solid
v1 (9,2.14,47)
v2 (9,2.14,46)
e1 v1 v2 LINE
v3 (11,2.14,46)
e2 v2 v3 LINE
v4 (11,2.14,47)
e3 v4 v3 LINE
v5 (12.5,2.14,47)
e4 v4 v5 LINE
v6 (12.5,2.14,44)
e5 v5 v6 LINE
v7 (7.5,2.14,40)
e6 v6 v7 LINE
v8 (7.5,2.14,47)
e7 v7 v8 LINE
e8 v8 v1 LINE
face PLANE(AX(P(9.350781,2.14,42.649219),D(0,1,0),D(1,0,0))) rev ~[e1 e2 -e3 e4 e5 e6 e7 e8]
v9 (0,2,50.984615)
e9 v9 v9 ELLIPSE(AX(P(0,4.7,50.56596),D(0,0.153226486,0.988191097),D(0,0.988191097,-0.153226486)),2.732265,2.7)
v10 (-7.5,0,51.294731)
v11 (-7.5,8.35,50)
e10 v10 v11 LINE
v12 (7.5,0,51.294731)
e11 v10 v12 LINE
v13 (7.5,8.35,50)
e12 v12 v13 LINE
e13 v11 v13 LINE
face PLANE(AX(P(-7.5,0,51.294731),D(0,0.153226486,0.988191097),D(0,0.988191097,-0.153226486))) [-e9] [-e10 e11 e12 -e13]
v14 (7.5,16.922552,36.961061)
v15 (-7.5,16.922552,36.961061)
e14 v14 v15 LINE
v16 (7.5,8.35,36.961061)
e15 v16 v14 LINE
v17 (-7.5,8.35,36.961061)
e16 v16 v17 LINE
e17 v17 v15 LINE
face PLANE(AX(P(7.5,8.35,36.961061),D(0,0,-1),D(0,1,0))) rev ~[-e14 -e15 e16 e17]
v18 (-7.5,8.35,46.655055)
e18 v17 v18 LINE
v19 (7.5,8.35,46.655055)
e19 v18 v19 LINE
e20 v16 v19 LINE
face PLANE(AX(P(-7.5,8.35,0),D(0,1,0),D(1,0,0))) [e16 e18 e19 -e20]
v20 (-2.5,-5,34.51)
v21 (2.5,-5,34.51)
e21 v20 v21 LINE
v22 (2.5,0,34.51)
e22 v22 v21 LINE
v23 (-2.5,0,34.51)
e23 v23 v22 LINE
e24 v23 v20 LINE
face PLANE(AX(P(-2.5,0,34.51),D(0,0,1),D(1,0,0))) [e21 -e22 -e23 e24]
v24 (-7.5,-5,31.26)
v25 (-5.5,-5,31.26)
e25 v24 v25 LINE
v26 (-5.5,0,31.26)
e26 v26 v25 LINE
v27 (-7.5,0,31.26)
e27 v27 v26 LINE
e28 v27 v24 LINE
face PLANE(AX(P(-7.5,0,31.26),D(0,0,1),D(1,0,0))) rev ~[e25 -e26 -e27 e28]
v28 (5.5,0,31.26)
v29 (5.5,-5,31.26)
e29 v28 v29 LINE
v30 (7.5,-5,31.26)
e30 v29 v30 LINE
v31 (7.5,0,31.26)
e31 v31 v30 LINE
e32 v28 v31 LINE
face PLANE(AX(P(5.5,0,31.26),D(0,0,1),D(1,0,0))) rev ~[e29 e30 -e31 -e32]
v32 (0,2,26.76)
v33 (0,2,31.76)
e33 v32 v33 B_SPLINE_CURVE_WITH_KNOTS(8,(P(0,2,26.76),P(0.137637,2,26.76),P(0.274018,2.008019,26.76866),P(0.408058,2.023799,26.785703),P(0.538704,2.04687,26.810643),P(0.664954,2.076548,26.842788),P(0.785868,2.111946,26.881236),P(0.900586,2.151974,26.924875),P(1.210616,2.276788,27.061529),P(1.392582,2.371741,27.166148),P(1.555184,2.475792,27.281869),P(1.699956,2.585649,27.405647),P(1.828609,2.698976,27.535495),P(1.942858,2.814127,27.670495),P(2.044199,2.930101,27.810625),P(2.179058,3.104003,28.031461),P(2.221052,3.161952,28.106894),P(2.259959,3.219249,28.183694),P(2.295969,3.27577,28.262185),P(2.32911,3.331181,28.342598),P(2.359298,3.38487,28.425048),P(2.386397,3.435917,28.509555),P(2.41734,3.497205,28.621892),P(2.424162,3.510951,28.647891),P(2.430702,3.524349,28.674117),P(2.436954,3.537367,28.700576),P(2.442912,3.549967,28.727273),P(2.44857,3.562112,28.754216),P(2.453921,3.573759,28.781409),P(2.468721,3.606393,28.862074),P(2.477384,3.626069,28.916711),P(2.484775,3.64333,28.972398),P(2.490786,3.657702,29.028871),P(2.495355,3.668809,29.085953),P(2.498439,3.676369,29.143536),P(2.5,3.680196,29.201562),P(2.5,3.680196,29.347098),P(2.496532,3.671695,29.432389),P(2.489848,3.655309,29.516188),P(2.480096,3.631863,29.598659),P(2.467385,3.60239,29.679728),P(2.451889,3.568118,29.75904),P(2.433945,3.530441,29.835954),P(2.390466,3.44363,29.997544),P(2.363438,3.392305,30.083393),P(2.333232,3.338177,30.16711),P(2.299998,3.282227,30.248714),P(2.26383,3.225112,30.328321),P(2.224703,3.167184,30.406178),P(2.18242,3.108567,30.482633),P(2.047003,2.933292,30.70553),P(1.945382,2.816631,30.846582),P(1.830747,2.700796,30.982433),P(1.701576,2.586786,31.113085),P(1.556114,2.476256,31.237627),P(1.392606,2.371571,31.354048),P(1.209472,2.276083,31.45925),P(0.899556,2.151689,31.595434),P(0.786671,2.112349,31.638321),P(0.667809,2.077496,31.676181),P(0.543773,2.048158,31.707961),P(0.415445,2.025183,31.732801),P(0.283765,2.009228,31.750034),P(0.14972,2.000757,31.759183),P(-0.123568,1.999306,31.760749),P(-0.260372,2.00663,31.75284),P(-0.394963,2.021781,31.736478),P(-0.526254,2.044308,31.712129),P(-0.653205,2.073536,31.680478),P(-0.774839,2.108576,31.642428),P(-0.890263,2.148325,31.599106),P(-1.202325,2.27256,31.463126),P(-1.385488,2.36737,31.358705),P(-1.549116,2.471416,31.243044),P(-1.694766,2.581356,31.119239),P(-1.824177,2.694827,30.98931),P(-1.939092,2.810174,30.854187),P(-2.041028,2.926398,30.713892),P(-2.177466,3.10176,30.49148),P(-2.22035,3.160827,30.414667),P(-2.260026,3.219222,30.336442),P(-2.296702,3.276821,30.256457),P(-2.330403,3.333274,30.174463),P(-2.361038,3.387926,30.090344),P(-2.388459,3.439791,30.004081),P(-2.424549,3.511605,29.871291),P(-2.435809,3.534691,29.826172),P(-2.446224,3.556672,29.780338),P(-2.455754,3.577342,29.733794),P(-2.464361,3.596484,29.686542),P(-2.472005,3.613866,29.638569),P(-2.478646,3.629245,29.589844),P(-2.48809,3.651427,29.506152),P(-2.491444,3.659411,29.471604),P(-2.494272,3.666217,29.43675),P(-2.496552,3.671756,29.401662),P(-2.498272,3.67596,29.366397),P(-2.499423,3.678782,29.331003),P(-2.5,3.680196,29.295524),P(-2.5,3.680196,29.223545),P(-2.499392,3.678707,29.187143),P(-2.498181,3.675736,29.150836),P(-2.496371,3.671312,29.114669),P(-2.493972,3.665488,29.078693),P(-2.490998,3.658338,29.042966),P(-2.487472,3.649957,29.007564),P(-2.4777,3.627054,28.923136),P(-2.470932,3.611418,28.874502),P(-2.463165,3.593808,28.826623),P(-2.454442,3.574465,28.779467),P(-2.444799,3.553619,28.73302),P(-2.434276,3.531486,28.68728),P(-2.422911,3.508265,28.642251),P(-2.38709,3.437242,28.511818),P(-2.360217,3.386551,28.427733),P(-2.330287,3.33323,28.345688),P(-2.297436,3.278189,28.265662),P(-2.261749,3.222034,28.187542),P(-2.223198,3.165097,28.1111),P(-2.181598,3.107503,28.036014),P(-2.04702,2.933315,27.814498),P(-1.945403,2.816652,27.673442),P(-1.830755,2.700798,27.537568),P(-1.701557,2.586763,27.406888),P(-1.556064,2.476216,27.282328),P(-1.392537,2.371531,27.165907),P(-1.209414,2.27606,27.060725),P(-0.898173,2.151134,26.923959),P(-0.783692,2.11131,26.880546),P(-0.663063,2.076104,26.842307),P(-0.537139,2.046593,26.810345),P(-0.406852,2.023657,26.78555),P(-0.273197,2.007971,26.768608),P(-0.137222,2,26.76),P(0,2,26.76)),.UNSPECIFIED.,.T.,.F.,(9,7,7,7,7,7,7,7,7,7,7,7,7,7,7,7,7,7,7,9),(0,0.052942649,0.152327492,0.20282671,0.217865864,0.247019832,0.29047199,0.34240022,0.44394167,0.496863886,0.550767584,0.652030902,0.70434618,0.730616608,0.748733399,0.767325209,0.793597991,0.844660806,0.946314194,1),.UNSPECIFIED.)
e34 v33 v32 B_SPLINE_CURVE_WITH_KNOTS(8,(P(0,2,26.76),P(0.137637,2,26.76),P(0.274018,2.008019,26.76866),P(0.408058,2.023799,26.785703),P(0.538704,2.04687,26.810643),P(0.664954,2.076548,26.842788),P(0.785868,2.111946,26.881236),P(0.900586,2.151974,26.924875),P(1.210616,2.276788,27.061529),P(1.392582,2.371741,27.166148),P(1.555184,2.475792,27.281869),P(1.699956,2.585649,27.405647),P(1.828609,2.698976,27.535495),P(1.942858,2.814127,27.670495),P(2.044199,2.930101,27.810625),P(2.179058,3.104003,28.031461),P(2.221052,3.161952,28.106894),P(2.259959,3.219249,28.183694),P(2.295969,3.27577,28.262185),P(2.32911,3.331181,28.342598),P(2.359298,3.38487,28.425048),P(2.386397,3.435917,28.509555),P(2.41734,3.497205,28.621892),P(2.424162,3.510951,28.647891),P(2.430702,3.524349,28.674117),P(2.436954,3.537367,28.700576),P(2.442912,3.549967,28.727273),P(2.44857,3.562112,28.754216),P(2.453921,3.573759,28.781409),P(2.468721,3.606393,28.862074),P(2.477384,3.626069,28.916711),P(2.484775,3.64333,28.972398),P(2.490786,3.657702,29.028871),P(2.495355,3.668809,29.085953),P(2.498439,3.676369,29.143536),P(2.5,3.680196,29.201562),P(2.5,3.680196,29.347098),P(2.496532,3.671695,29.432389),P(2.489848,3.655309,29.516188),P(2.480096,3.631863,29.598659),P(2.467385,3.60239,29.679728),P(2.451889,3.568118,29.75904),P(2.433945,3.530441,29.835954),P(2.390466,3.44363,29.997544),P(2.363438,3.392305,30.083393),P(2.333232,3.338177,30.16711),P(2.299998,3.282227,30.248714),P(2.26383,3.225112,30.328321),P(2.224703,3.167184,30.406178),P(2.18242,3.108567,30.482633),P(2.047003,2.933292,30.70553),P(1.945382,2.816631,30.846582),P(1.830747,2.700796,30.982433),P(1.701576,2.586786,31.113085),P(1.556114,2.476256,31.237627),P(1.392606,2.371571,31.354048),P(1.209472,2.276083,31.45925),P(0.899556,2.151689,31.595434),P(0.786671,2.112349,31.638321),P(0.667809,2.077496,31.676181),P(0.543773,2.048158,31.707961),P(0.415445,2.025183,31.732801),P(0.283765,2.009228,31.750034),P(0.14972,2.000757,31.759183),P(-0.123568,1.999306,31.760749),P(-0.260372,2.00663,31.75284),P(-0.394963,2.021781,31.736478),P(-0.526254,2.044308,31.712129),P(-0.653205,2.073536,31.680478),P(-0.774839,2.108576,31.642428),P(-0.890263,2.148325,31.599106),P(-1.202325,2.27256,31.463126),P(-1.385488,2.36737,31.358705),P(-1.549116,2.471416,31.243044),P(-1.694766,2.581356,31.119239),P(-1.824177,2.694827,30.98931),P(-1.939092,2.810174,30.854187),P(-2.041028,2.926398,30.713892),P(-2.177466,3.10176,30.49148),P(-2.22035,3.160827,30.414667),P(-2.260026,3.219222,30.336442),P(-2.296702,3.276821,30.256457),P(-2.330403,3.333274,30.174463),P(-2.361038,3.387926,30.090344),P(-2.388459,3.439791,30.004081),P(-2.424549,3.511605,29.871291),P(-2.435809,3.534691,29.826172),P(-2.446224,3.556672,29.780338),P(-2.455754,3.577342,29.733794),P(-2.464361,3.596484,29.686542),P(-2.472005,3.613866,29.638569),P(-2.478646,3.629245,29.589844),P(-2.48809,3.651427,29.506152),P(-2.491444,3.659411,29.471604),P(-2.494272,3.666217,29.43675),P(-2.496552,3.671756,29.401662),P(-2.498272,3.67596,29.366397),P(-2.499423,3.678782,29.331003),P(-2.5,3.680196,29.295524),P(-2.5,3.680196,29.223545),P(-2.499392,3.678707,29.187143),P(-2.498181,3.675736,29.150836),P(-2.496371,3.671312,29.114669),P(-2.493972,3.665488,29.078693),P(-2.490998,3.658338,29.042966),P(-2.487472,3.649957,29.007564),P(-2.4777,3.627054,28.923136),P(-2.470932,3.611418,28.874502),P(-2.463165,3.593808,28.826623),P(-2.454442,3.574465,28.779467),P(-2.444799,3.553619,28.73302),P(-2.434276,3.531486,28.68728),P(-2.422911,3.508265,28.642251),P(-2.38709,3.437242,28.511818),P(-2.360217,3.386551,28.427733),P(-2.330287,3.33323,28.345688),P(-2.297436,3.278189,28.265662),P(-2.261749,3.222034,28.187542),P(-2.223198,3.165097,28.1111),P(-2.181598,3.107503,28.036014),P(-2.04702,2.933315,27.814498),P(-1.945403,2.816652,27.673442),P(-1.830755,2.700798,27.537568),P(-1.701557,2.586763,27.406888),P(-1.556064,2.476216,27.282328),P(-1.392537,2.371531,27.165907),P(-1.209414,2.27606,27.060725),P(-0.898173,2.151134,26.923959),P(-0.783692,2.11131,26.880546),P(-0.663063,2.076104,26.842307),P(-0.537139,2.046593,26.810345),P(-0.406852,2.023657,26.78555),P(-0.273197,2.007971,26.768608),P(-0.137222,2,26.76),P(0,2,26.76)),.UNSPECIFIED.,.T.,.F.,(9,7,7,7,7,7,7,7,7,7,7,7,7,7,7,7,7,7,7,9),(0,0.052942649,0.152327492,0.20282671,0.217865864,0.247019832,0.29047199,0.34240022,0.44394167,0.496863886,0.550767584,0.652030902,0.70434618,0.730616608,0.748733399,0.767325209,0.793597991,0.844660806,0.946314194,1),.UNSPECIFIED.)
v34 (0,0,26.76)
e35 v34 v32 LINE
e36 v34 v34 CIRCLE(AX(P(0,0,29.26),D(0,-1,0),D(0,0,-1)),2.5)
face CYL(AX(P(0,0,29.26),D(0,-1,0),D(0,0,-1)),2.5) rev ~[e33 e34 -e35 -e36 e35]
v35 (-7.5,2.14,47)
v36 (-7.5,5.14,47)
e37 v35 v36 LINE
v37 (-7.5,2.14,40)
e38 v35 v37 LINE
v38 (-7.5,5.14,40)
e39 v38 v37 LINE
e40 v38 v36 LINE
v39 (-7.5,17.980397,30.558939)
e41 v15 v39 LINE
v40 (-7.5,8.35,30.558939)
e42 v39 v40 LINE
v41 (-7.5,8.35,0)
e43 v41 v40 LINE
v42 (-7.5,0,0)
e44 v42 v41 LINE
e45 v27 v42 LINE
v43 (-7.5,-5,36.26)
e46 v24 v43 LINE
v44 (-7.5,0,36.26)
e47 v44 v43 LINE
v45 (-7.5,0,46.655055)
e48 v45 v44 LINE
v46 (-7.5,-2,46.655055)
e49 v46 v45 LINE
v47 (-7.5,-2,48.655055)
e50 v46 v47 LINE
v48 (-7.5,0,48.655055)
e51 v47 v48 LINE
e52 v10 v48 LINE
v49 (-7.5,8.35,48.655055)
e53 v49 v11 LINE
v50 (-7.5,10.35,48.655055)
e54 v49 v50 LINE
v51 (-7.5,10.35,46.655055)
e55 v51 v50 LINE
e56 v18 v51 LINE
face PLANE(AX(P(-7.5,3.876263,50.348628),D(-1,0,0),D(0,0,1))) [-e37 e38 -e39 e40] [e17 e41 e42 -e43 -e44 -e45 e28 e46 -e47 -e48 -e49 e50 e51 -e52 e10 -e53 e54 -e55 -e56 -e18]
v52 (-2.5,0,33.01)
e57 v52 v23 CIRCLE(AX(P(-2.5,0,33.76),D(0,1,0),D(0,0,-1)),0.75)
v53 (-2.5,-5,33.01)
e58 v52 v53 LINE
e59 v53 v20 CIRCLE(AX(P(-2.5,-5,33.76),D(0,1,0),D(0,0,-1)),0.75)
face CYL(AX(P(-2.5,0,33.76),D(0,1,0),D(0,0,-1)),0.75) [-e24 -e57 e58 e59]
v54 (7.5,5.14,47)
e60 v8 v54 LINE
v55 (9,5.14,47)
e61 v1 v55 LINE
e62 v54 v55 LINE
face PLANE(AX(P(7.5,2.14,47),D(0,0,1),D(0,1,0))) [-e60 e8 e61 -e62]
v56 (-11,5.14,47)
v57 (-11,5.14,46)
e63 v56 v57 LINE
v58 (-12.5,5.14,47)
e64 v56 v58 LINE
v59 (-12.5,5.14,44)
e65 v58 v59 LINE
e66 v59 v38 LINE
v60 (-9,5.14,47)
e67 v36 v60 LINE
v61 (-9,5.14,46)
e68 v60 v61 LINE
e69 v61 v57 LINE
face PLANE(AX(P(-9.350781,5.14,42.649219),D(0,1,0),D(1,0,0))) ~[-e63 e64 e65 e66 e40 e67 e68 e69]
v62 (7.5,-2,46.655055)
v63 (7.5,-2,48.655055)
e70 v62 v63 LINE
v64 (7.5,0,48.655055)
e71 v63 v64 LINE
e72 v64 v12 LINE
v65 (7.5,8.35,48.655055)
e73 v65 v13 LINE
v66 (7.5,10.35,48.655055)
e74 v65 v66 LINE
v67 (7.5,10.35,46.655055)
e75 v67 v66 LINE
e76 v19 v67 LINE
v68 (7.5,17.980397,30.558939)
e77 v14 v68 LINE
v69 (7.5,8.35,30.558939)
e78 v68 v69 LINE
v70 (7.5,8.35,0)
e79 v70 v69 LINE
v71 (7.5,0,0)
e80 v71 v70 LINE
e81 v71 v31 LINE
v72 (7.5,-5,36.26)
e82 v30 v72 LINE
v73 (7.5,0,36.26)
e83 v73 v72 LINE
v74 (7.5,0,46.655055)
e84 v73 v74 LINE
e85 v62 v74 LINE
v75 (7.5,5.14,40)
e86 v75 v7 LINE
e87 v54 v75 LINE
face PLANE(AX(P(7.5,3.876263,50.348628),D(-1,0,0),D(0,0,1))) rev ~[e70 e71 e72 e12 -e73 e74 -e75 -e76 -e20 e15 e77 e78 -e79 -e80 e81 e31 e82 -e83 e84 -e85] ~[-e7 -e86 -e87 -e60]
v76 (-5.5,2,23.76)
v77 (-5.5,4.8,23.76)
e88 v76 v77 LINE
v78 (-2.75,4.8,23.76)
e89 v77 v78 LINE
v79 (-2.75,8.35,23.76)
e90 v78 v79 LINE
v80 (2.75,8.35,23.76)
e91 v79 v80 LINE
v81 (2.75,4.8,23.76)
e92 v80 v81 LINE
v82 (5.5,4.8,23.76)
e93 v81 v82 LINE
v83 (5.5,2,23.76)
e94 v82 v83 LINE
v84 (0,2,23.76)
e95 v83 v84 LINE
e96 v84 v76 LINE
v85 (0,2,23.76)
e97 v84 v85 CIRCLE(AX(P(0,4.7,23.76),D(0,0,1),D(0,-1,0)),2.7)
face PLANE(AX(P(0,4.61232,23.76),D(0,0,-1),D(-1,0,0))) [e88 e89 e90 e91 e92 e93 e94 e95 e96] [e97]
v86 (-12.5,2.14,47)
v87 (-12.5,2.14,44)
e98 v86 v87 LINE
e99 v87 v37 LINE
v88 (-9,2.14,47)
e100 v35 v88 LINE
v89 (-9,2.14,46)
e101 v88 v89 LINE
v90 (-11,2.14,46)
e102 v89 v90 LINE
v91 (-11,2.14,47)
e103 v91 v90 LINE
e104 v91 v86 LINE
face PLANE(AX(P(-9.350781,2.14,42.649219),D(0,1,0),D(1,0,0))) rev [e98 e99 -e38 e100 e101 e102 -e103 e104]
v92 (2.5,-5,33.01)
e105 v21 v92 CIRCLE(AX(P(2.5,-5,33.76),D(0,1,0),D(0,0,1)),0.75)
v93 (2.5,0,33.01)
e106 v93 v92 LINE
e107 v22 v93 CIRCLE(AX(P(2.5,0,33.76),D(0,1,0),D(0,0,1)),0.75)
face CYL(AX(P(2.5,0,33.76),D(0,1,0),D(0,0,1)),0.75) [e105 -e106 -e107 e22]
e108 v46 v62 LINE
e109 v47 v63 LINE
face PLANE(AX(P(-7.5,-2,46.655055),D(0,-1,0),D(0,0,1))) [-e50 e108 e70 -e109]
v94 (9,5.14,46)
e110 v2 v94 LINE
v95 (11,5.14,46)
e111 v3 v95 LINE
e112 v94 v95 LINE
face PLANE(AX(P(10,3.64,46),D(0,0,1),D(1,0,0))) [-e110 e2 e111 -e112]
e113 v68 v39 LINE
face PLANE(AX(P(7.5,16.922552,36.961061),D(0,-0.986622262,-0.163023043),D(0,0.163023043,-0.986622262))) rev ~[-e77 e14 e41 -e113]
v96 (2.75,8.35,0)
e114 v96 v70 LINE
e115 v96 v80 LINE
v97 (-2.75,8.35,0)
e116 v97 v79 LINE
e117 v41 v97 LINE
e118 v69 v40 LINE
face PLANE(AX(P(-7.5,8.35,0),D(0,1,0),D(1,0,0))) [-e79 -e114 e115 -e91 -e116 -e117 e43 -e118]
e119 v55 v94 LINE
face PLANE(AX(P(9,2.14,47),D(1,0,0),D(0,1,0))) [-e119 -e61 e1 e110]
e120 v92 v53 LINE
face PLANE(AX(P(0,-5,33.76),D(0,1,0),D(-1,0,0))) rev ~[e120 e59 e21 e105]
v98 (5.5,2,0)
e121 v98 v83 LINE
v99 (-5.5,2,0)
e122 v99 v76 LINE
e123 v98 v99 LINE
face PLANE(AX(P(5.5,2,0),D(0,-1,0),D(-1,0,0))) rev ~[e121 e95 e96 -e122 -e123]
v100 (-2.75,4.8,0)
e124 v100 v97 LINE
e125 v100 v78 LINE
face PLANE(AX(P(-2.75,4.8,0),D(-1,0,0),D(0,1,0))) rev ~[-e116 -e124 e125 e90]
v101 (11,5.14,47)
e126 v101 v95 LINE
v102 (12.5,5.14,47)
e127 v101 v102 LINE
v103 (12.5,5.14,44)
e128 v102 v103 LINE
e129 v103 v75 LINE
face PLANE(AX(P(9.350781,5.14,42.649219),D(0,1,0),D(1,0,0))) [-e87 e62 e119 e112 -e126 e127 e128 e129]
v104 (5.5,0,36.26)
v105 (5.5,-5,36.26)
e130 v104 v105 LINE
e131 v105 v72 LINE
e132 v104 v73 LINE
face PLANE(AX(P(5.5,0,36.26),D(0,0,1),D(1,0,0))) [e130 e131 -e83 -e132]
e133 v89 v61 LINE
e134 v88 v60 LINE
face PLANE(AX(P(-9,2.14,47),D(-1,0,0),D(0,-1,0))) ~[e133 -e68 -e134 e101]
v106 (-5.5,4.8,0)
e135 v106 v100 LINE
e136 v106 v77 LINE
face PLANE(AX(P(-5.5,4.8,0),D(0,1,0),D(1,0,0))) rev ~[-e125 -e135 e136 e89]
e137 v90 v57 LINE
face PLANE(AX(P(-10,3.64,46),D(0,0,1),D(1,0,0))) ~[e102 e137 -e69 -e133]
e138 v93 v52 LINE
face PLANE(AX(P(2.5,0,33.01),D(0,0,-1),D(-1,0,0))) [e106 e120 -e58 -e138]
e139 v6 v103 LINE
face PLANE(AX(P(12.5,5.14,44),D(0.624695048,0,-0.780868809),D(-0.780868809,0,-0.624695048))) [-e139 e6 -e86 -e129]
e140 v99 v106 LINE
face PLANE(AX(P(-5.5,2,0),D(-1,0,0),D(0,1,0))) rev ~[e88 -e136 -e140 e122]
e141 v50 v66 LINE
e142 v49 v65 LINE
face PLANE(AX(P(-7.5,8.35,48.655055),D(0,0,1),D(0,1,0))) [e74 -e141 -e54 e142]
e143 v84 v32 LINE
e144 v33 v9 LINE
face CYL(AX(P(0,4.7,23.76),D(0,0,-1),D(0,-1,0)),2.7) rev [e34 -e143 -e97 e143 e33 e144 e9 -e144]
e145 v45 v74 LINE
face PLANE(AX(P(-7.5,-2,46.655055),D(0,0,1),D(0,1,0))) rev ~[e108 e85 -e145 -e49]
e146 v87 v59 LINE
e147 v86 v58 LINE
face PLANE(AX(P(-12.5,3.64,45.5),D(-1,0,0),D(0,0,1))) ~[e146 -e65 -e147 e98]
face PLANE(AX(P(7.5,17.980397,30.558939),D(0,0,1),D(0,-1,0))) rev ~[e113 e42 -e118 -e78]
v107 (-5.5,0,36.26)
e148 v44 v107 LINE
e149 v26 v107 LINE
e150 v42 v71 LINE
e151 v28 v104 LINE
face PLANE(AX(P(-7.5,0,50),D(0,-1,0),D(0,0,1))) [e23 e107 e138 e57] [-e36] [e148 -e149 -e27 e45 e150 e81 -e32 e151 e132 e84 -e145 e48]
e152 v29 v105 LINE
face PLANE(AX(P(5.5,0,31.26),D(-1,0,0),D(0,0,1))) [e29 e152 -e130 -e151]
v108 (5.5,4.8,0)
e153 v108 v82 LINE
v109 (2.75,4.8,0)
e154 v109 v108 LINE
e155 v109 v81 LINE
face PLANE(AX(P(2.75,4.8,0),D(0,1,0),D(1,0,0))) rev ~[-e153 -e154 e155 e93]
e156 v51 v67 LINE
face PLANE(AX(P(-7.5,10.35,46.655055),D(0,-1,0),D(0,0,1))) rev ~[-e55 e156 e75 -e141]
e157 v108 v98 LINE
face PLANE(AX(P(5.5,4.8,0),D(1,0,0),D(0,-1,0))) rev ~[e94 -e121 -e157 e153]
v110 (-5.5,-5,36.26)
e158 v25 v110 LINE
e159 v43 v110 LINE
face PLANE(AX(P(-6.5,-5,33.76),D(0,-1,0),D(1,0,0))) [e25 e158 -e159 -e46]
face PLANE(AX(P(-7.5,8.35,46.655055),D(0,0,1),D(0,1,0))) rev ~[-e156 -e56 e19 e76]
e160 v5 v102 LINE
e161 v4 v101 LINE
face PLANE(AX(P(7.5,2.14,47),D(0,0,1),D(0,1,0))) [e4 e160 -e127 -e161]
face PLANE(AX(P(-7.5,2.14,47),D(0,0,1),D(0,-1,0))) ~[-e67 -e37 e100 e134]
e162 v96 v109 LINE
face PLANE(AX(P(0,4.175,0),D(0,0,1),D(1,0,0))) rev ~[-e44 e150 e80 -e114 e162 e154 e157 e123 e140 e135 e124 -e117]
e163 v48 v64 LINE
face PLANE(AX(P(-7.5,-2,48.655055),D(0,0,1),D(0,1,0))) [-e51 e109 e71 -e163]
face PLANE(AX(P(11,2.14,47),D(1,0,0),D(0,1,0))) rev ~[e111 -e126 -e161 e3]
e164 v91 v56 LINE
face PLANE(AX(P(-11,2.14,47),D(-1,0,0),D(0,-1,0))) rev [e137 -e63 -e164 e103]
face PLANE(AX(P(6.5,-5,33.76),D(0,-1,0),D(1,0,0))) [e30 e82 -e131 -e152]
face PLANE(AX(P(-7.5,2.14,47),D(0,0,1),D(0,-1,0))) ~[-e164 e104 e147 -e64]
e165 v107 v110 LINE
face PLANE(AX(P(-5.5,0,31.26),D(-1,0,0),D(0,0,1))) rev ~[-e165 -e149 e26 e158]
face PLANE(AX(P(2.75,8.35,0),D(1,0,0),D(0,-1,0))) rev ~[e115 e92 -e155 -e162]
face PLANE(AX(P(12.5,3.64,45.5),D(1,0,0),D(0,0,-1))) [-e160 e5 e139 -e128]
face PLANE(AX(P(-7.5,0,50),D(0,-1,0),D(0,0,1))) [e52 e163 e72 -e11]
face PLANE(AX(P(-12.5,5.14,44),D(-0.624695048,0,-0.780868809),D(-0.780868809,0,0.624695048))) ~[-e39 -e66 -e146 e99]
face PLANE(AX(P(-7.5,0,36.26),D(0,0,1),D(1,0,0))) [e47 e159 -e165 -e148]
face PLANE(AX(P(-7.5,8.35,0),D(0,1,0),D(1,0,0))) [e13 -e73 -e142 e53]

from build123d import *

# Parameters (mm, degrees)
SKETCH9_W               = 15
SKETCH9_H               = 8.35
BOSS_EXTRUDE4_DEPTH     = 50
CUT_EXTRUDE4_DEPTH      = 23.76
BOSS_EXTRUDE9_DEPTH     = 15
CUT_EXTRUDE5_REACH      = 31.734
SKETCH10_R              = 2.7
SKETCH12_W              = 3
SKETCH12_H              = 3
BOSS_EXTRUDE5_DEPTH     = 5
SKETCH13_W              = 2
SKETCH13_H              = 3
CUT_EXTRUDE6_DEPTH      = 1
BOSS_EXTRUDE6_DEPTH     = 3
SKETCH22_W              = 2
SKETCH22_H              = 2
BOSS_EXTRUDE10_DEPTH    = 15
CUT_EXTRUDE7_REACH      = 55.801
CUT_EXTRUDE7_END_RADIUS = 2.7
SKETCH23_R              = 2.5
SKETCH24_W              = 2
SKETCH24_H              = 5
BOSS_EXTRUDE11_DEPTH    = 5
BOSS_EXTRUDE12_DEPTH    = 15


with BuildPart() as part:
    # Sketch9 → Boss-Extrude4 (new body)
    with BuildSketch(Plane.XY):
        with Locations((0, 4.175)):
            Rectangle(SKETCH9_W, SKETCH9_H)
    extrude(amount=BOSS_EXTRUDE4_DEPTH)

    # Sketch7 → Cut-Extrude4 (cut)
    with BuildSketch(Plane.XY):
        Polygon((-5.5, 2), (-5.5, 4.8), (-2.75, 4.8), (-2.75, 8.35), (2.75, 8.35), (2.75, 4.8), (5.5, 4.8), (5.5, 2), align=None)
    extrude(amount=CUT_EXTRUDE4_DEPTH, mode=Mode.SUBTRACT)

    # Sketch21 → Boss-Extrude9 (add)
    with BuildSketch(Plane.ZY.offset(7.5)):
        Polygon((50, 0), (51.294730508, 0), (50, 8.35), align=None)
    extrude(amount=-BOSS_EXTRUDE9_DEPTH)

    # Cut-Extrude5: up to this plane
    cut_extrude5_end = Plane(origin=(15.949782665, 0, 51.294730508), z_dir=(0, 0.15322648630316937, 0.9881910968507989))
    # Sketch10 → Cut-Extrude5 (cut, up to the surface)
    with BuildSketch(Plane.XY.offset(23.76), mode=Mode.PRIVATE) as cut_extrude5_sk1:
        with Locations(Location((0, 4.7, 0), (0, 0, 270))):
            Circle(SKETCH10_R)
    cut_extrude5_tool1 = split(extrude(cut_extrude5_sk1.sketch, amount=CUT_EXTRUDE5_REACH, mode=Mode.PRIVATE), bisect_by=cut_extrude5_end, keep=Keep.BOTH, mode=Mode.PRIVATE)
    add(cut_extrude5_tool1.solids().sort_by_distance((0, 4.7, 23.76))[0], mode=Mode.SUBTRACT)

    # Sketch12 → Boss-Extrude5 (add)
    with BuildSketch(Plane(origin=(7.5, 0, 0), x_dir=(0, 0, -1), z_dir=(1, 0, 0))):
        with Locations((-45.5, 3.64)):
            Rectangle(SKETCH12_W, SKETCH12_H)
    boss_extrude5 = extrude(amount=BOSS_EXTRUDE5_DEPTH)

    # Sketch13 → Cut-Extrude6 (cut)
    with BuildSketch(Plane.XY.offset(47)):
        with Locations((10, 3.64)):
            Rectangle(SKETCH13_W, SKETCH13_H)
    cut_extrude6 = extrude(amount=-CUT_EXTRUDE6_DEPTH, mode=Mode.SUBTRACT)

    # Mirror2: Boss-Extrude5 across plane
    add(boss_extrude5.mirror(Plane(origin=(0, 0, 0), x_dir=(0, 0, 1), z_dir=(1, 0, 0))))

    # Mirror4: Cut-Extrude6 across plane
    add(cut_extrude6.mirror(Plane(origin=(0, 0, 0), x_dir=(0, 0, 1), z_dir=(1, 0, 0))), mode=Mode.SUBTRACT)

    # Sketch14 → Boss-Extrude6 (add)
    with BuildSketch(Plane(origin=(0, 5.14, 0), x_dir=(1, 0, 0), z_dir=(0, 1, 0))):
        Polygon((12.5, -44), (7.5, -40), (7.5, -44), align=None)
    boss_extrude6 = extrude(amount=-BOSS_EXTRUDE6_DEPTH)

    # Mirror5: Boss-Extrude6 across plane
    add(boss_extrude6.mirror(Plane(origin=(0, 0, 0), x_dir=(0, 0, 1), z_dir=(1, 0, 0))))

    # Sketch22 → Boss-Extrude10 (add)
    with BuildSketch(Plane.ZY.offset(7.5)):
        with Locations((47.655054804, -1)):
            Rectangle(SKETCH22_W, SKETCH22_H)
        with Locations((47.655054804, 9.35)):
            Rectangle(SKETCH22_W, SKETCH22_H)
    extrude(amount=-BOSS_EXTRUDE10_DEPTH)

    # Cut-Extrude7: up to this cylinder (the profile starts outside it)
    cut_extrude7_end = Plane(origin=(0, 4.7, 29.26), z_dir=(0, 0, -1)) * Cylinder(CUT_EXTRUDE7_END_RADIUS, 118.002, mode=Mode.PRIVATE)
    # Sketch23 → Cut-Extrude7 (cut, up to the surface)
    with BuildSketch(Plane.XZ, mode=Mode.PRIVATE) as cut_extrude7_sk1:
        with Locations(Location((0, 29.26, 0), (0, 0, 270))):
            Circle(SKETCH23_R)
    cut_extrude7_tool1 = extrude(cut_extrude7_sk1.sketch, amount=-CUT_EXTRUDE7_REACH, mode=Mode.PRIVATE) - cut_extrude7_end
    add(cut_extrude7_tool1.solids().sort_by_distance((0, 0, 29.26))[0], mode=Mode.SUBTRACT)

    # Sketch24 → Boss-Extrude11 (add)
    with BuildSketch(Plane.XZ):
        with Locations((6.5, 33.76)):
            Rectangle(SKETCH24_W, SKETCH24_H)
        with Locations((-6.5, 33.76)):
            Rectangle(SKETCH24_W, SKETCH24_H)
        with BuildLine():
            Line((2.5, 33.01), (-2.5, 33.01))
            ThreePointArc((-2.5, 33.01), (-3.25, 33.76), (-2.5, 34.51))
            Line((-2.5, 34.51), (2.5, 34.51))
            ThreePointArc((2.5, 34.51), (3.25, 33.76), (2.5, 33.01))
        make_face()
    extrude(amount=BOSS_EXTRUDE11_DEPTH)

    # Sketch25 → Boss-Extrude12 (add)
    with BuildSketch(Plane(origin=(7.5, 0, 0), x_dir=(0, 0, -1), z_dir=(1, 0, 0))):
        Polygon((-30.558938802, 8.35), (-36.961061198, 8.35), (-36.961061198, 16.922552294), (-30.558938802, 17.980397342), align=None)
    extrude(amount=-BOSS_EXTRUDE12_DEPTH)


solid = part.part
